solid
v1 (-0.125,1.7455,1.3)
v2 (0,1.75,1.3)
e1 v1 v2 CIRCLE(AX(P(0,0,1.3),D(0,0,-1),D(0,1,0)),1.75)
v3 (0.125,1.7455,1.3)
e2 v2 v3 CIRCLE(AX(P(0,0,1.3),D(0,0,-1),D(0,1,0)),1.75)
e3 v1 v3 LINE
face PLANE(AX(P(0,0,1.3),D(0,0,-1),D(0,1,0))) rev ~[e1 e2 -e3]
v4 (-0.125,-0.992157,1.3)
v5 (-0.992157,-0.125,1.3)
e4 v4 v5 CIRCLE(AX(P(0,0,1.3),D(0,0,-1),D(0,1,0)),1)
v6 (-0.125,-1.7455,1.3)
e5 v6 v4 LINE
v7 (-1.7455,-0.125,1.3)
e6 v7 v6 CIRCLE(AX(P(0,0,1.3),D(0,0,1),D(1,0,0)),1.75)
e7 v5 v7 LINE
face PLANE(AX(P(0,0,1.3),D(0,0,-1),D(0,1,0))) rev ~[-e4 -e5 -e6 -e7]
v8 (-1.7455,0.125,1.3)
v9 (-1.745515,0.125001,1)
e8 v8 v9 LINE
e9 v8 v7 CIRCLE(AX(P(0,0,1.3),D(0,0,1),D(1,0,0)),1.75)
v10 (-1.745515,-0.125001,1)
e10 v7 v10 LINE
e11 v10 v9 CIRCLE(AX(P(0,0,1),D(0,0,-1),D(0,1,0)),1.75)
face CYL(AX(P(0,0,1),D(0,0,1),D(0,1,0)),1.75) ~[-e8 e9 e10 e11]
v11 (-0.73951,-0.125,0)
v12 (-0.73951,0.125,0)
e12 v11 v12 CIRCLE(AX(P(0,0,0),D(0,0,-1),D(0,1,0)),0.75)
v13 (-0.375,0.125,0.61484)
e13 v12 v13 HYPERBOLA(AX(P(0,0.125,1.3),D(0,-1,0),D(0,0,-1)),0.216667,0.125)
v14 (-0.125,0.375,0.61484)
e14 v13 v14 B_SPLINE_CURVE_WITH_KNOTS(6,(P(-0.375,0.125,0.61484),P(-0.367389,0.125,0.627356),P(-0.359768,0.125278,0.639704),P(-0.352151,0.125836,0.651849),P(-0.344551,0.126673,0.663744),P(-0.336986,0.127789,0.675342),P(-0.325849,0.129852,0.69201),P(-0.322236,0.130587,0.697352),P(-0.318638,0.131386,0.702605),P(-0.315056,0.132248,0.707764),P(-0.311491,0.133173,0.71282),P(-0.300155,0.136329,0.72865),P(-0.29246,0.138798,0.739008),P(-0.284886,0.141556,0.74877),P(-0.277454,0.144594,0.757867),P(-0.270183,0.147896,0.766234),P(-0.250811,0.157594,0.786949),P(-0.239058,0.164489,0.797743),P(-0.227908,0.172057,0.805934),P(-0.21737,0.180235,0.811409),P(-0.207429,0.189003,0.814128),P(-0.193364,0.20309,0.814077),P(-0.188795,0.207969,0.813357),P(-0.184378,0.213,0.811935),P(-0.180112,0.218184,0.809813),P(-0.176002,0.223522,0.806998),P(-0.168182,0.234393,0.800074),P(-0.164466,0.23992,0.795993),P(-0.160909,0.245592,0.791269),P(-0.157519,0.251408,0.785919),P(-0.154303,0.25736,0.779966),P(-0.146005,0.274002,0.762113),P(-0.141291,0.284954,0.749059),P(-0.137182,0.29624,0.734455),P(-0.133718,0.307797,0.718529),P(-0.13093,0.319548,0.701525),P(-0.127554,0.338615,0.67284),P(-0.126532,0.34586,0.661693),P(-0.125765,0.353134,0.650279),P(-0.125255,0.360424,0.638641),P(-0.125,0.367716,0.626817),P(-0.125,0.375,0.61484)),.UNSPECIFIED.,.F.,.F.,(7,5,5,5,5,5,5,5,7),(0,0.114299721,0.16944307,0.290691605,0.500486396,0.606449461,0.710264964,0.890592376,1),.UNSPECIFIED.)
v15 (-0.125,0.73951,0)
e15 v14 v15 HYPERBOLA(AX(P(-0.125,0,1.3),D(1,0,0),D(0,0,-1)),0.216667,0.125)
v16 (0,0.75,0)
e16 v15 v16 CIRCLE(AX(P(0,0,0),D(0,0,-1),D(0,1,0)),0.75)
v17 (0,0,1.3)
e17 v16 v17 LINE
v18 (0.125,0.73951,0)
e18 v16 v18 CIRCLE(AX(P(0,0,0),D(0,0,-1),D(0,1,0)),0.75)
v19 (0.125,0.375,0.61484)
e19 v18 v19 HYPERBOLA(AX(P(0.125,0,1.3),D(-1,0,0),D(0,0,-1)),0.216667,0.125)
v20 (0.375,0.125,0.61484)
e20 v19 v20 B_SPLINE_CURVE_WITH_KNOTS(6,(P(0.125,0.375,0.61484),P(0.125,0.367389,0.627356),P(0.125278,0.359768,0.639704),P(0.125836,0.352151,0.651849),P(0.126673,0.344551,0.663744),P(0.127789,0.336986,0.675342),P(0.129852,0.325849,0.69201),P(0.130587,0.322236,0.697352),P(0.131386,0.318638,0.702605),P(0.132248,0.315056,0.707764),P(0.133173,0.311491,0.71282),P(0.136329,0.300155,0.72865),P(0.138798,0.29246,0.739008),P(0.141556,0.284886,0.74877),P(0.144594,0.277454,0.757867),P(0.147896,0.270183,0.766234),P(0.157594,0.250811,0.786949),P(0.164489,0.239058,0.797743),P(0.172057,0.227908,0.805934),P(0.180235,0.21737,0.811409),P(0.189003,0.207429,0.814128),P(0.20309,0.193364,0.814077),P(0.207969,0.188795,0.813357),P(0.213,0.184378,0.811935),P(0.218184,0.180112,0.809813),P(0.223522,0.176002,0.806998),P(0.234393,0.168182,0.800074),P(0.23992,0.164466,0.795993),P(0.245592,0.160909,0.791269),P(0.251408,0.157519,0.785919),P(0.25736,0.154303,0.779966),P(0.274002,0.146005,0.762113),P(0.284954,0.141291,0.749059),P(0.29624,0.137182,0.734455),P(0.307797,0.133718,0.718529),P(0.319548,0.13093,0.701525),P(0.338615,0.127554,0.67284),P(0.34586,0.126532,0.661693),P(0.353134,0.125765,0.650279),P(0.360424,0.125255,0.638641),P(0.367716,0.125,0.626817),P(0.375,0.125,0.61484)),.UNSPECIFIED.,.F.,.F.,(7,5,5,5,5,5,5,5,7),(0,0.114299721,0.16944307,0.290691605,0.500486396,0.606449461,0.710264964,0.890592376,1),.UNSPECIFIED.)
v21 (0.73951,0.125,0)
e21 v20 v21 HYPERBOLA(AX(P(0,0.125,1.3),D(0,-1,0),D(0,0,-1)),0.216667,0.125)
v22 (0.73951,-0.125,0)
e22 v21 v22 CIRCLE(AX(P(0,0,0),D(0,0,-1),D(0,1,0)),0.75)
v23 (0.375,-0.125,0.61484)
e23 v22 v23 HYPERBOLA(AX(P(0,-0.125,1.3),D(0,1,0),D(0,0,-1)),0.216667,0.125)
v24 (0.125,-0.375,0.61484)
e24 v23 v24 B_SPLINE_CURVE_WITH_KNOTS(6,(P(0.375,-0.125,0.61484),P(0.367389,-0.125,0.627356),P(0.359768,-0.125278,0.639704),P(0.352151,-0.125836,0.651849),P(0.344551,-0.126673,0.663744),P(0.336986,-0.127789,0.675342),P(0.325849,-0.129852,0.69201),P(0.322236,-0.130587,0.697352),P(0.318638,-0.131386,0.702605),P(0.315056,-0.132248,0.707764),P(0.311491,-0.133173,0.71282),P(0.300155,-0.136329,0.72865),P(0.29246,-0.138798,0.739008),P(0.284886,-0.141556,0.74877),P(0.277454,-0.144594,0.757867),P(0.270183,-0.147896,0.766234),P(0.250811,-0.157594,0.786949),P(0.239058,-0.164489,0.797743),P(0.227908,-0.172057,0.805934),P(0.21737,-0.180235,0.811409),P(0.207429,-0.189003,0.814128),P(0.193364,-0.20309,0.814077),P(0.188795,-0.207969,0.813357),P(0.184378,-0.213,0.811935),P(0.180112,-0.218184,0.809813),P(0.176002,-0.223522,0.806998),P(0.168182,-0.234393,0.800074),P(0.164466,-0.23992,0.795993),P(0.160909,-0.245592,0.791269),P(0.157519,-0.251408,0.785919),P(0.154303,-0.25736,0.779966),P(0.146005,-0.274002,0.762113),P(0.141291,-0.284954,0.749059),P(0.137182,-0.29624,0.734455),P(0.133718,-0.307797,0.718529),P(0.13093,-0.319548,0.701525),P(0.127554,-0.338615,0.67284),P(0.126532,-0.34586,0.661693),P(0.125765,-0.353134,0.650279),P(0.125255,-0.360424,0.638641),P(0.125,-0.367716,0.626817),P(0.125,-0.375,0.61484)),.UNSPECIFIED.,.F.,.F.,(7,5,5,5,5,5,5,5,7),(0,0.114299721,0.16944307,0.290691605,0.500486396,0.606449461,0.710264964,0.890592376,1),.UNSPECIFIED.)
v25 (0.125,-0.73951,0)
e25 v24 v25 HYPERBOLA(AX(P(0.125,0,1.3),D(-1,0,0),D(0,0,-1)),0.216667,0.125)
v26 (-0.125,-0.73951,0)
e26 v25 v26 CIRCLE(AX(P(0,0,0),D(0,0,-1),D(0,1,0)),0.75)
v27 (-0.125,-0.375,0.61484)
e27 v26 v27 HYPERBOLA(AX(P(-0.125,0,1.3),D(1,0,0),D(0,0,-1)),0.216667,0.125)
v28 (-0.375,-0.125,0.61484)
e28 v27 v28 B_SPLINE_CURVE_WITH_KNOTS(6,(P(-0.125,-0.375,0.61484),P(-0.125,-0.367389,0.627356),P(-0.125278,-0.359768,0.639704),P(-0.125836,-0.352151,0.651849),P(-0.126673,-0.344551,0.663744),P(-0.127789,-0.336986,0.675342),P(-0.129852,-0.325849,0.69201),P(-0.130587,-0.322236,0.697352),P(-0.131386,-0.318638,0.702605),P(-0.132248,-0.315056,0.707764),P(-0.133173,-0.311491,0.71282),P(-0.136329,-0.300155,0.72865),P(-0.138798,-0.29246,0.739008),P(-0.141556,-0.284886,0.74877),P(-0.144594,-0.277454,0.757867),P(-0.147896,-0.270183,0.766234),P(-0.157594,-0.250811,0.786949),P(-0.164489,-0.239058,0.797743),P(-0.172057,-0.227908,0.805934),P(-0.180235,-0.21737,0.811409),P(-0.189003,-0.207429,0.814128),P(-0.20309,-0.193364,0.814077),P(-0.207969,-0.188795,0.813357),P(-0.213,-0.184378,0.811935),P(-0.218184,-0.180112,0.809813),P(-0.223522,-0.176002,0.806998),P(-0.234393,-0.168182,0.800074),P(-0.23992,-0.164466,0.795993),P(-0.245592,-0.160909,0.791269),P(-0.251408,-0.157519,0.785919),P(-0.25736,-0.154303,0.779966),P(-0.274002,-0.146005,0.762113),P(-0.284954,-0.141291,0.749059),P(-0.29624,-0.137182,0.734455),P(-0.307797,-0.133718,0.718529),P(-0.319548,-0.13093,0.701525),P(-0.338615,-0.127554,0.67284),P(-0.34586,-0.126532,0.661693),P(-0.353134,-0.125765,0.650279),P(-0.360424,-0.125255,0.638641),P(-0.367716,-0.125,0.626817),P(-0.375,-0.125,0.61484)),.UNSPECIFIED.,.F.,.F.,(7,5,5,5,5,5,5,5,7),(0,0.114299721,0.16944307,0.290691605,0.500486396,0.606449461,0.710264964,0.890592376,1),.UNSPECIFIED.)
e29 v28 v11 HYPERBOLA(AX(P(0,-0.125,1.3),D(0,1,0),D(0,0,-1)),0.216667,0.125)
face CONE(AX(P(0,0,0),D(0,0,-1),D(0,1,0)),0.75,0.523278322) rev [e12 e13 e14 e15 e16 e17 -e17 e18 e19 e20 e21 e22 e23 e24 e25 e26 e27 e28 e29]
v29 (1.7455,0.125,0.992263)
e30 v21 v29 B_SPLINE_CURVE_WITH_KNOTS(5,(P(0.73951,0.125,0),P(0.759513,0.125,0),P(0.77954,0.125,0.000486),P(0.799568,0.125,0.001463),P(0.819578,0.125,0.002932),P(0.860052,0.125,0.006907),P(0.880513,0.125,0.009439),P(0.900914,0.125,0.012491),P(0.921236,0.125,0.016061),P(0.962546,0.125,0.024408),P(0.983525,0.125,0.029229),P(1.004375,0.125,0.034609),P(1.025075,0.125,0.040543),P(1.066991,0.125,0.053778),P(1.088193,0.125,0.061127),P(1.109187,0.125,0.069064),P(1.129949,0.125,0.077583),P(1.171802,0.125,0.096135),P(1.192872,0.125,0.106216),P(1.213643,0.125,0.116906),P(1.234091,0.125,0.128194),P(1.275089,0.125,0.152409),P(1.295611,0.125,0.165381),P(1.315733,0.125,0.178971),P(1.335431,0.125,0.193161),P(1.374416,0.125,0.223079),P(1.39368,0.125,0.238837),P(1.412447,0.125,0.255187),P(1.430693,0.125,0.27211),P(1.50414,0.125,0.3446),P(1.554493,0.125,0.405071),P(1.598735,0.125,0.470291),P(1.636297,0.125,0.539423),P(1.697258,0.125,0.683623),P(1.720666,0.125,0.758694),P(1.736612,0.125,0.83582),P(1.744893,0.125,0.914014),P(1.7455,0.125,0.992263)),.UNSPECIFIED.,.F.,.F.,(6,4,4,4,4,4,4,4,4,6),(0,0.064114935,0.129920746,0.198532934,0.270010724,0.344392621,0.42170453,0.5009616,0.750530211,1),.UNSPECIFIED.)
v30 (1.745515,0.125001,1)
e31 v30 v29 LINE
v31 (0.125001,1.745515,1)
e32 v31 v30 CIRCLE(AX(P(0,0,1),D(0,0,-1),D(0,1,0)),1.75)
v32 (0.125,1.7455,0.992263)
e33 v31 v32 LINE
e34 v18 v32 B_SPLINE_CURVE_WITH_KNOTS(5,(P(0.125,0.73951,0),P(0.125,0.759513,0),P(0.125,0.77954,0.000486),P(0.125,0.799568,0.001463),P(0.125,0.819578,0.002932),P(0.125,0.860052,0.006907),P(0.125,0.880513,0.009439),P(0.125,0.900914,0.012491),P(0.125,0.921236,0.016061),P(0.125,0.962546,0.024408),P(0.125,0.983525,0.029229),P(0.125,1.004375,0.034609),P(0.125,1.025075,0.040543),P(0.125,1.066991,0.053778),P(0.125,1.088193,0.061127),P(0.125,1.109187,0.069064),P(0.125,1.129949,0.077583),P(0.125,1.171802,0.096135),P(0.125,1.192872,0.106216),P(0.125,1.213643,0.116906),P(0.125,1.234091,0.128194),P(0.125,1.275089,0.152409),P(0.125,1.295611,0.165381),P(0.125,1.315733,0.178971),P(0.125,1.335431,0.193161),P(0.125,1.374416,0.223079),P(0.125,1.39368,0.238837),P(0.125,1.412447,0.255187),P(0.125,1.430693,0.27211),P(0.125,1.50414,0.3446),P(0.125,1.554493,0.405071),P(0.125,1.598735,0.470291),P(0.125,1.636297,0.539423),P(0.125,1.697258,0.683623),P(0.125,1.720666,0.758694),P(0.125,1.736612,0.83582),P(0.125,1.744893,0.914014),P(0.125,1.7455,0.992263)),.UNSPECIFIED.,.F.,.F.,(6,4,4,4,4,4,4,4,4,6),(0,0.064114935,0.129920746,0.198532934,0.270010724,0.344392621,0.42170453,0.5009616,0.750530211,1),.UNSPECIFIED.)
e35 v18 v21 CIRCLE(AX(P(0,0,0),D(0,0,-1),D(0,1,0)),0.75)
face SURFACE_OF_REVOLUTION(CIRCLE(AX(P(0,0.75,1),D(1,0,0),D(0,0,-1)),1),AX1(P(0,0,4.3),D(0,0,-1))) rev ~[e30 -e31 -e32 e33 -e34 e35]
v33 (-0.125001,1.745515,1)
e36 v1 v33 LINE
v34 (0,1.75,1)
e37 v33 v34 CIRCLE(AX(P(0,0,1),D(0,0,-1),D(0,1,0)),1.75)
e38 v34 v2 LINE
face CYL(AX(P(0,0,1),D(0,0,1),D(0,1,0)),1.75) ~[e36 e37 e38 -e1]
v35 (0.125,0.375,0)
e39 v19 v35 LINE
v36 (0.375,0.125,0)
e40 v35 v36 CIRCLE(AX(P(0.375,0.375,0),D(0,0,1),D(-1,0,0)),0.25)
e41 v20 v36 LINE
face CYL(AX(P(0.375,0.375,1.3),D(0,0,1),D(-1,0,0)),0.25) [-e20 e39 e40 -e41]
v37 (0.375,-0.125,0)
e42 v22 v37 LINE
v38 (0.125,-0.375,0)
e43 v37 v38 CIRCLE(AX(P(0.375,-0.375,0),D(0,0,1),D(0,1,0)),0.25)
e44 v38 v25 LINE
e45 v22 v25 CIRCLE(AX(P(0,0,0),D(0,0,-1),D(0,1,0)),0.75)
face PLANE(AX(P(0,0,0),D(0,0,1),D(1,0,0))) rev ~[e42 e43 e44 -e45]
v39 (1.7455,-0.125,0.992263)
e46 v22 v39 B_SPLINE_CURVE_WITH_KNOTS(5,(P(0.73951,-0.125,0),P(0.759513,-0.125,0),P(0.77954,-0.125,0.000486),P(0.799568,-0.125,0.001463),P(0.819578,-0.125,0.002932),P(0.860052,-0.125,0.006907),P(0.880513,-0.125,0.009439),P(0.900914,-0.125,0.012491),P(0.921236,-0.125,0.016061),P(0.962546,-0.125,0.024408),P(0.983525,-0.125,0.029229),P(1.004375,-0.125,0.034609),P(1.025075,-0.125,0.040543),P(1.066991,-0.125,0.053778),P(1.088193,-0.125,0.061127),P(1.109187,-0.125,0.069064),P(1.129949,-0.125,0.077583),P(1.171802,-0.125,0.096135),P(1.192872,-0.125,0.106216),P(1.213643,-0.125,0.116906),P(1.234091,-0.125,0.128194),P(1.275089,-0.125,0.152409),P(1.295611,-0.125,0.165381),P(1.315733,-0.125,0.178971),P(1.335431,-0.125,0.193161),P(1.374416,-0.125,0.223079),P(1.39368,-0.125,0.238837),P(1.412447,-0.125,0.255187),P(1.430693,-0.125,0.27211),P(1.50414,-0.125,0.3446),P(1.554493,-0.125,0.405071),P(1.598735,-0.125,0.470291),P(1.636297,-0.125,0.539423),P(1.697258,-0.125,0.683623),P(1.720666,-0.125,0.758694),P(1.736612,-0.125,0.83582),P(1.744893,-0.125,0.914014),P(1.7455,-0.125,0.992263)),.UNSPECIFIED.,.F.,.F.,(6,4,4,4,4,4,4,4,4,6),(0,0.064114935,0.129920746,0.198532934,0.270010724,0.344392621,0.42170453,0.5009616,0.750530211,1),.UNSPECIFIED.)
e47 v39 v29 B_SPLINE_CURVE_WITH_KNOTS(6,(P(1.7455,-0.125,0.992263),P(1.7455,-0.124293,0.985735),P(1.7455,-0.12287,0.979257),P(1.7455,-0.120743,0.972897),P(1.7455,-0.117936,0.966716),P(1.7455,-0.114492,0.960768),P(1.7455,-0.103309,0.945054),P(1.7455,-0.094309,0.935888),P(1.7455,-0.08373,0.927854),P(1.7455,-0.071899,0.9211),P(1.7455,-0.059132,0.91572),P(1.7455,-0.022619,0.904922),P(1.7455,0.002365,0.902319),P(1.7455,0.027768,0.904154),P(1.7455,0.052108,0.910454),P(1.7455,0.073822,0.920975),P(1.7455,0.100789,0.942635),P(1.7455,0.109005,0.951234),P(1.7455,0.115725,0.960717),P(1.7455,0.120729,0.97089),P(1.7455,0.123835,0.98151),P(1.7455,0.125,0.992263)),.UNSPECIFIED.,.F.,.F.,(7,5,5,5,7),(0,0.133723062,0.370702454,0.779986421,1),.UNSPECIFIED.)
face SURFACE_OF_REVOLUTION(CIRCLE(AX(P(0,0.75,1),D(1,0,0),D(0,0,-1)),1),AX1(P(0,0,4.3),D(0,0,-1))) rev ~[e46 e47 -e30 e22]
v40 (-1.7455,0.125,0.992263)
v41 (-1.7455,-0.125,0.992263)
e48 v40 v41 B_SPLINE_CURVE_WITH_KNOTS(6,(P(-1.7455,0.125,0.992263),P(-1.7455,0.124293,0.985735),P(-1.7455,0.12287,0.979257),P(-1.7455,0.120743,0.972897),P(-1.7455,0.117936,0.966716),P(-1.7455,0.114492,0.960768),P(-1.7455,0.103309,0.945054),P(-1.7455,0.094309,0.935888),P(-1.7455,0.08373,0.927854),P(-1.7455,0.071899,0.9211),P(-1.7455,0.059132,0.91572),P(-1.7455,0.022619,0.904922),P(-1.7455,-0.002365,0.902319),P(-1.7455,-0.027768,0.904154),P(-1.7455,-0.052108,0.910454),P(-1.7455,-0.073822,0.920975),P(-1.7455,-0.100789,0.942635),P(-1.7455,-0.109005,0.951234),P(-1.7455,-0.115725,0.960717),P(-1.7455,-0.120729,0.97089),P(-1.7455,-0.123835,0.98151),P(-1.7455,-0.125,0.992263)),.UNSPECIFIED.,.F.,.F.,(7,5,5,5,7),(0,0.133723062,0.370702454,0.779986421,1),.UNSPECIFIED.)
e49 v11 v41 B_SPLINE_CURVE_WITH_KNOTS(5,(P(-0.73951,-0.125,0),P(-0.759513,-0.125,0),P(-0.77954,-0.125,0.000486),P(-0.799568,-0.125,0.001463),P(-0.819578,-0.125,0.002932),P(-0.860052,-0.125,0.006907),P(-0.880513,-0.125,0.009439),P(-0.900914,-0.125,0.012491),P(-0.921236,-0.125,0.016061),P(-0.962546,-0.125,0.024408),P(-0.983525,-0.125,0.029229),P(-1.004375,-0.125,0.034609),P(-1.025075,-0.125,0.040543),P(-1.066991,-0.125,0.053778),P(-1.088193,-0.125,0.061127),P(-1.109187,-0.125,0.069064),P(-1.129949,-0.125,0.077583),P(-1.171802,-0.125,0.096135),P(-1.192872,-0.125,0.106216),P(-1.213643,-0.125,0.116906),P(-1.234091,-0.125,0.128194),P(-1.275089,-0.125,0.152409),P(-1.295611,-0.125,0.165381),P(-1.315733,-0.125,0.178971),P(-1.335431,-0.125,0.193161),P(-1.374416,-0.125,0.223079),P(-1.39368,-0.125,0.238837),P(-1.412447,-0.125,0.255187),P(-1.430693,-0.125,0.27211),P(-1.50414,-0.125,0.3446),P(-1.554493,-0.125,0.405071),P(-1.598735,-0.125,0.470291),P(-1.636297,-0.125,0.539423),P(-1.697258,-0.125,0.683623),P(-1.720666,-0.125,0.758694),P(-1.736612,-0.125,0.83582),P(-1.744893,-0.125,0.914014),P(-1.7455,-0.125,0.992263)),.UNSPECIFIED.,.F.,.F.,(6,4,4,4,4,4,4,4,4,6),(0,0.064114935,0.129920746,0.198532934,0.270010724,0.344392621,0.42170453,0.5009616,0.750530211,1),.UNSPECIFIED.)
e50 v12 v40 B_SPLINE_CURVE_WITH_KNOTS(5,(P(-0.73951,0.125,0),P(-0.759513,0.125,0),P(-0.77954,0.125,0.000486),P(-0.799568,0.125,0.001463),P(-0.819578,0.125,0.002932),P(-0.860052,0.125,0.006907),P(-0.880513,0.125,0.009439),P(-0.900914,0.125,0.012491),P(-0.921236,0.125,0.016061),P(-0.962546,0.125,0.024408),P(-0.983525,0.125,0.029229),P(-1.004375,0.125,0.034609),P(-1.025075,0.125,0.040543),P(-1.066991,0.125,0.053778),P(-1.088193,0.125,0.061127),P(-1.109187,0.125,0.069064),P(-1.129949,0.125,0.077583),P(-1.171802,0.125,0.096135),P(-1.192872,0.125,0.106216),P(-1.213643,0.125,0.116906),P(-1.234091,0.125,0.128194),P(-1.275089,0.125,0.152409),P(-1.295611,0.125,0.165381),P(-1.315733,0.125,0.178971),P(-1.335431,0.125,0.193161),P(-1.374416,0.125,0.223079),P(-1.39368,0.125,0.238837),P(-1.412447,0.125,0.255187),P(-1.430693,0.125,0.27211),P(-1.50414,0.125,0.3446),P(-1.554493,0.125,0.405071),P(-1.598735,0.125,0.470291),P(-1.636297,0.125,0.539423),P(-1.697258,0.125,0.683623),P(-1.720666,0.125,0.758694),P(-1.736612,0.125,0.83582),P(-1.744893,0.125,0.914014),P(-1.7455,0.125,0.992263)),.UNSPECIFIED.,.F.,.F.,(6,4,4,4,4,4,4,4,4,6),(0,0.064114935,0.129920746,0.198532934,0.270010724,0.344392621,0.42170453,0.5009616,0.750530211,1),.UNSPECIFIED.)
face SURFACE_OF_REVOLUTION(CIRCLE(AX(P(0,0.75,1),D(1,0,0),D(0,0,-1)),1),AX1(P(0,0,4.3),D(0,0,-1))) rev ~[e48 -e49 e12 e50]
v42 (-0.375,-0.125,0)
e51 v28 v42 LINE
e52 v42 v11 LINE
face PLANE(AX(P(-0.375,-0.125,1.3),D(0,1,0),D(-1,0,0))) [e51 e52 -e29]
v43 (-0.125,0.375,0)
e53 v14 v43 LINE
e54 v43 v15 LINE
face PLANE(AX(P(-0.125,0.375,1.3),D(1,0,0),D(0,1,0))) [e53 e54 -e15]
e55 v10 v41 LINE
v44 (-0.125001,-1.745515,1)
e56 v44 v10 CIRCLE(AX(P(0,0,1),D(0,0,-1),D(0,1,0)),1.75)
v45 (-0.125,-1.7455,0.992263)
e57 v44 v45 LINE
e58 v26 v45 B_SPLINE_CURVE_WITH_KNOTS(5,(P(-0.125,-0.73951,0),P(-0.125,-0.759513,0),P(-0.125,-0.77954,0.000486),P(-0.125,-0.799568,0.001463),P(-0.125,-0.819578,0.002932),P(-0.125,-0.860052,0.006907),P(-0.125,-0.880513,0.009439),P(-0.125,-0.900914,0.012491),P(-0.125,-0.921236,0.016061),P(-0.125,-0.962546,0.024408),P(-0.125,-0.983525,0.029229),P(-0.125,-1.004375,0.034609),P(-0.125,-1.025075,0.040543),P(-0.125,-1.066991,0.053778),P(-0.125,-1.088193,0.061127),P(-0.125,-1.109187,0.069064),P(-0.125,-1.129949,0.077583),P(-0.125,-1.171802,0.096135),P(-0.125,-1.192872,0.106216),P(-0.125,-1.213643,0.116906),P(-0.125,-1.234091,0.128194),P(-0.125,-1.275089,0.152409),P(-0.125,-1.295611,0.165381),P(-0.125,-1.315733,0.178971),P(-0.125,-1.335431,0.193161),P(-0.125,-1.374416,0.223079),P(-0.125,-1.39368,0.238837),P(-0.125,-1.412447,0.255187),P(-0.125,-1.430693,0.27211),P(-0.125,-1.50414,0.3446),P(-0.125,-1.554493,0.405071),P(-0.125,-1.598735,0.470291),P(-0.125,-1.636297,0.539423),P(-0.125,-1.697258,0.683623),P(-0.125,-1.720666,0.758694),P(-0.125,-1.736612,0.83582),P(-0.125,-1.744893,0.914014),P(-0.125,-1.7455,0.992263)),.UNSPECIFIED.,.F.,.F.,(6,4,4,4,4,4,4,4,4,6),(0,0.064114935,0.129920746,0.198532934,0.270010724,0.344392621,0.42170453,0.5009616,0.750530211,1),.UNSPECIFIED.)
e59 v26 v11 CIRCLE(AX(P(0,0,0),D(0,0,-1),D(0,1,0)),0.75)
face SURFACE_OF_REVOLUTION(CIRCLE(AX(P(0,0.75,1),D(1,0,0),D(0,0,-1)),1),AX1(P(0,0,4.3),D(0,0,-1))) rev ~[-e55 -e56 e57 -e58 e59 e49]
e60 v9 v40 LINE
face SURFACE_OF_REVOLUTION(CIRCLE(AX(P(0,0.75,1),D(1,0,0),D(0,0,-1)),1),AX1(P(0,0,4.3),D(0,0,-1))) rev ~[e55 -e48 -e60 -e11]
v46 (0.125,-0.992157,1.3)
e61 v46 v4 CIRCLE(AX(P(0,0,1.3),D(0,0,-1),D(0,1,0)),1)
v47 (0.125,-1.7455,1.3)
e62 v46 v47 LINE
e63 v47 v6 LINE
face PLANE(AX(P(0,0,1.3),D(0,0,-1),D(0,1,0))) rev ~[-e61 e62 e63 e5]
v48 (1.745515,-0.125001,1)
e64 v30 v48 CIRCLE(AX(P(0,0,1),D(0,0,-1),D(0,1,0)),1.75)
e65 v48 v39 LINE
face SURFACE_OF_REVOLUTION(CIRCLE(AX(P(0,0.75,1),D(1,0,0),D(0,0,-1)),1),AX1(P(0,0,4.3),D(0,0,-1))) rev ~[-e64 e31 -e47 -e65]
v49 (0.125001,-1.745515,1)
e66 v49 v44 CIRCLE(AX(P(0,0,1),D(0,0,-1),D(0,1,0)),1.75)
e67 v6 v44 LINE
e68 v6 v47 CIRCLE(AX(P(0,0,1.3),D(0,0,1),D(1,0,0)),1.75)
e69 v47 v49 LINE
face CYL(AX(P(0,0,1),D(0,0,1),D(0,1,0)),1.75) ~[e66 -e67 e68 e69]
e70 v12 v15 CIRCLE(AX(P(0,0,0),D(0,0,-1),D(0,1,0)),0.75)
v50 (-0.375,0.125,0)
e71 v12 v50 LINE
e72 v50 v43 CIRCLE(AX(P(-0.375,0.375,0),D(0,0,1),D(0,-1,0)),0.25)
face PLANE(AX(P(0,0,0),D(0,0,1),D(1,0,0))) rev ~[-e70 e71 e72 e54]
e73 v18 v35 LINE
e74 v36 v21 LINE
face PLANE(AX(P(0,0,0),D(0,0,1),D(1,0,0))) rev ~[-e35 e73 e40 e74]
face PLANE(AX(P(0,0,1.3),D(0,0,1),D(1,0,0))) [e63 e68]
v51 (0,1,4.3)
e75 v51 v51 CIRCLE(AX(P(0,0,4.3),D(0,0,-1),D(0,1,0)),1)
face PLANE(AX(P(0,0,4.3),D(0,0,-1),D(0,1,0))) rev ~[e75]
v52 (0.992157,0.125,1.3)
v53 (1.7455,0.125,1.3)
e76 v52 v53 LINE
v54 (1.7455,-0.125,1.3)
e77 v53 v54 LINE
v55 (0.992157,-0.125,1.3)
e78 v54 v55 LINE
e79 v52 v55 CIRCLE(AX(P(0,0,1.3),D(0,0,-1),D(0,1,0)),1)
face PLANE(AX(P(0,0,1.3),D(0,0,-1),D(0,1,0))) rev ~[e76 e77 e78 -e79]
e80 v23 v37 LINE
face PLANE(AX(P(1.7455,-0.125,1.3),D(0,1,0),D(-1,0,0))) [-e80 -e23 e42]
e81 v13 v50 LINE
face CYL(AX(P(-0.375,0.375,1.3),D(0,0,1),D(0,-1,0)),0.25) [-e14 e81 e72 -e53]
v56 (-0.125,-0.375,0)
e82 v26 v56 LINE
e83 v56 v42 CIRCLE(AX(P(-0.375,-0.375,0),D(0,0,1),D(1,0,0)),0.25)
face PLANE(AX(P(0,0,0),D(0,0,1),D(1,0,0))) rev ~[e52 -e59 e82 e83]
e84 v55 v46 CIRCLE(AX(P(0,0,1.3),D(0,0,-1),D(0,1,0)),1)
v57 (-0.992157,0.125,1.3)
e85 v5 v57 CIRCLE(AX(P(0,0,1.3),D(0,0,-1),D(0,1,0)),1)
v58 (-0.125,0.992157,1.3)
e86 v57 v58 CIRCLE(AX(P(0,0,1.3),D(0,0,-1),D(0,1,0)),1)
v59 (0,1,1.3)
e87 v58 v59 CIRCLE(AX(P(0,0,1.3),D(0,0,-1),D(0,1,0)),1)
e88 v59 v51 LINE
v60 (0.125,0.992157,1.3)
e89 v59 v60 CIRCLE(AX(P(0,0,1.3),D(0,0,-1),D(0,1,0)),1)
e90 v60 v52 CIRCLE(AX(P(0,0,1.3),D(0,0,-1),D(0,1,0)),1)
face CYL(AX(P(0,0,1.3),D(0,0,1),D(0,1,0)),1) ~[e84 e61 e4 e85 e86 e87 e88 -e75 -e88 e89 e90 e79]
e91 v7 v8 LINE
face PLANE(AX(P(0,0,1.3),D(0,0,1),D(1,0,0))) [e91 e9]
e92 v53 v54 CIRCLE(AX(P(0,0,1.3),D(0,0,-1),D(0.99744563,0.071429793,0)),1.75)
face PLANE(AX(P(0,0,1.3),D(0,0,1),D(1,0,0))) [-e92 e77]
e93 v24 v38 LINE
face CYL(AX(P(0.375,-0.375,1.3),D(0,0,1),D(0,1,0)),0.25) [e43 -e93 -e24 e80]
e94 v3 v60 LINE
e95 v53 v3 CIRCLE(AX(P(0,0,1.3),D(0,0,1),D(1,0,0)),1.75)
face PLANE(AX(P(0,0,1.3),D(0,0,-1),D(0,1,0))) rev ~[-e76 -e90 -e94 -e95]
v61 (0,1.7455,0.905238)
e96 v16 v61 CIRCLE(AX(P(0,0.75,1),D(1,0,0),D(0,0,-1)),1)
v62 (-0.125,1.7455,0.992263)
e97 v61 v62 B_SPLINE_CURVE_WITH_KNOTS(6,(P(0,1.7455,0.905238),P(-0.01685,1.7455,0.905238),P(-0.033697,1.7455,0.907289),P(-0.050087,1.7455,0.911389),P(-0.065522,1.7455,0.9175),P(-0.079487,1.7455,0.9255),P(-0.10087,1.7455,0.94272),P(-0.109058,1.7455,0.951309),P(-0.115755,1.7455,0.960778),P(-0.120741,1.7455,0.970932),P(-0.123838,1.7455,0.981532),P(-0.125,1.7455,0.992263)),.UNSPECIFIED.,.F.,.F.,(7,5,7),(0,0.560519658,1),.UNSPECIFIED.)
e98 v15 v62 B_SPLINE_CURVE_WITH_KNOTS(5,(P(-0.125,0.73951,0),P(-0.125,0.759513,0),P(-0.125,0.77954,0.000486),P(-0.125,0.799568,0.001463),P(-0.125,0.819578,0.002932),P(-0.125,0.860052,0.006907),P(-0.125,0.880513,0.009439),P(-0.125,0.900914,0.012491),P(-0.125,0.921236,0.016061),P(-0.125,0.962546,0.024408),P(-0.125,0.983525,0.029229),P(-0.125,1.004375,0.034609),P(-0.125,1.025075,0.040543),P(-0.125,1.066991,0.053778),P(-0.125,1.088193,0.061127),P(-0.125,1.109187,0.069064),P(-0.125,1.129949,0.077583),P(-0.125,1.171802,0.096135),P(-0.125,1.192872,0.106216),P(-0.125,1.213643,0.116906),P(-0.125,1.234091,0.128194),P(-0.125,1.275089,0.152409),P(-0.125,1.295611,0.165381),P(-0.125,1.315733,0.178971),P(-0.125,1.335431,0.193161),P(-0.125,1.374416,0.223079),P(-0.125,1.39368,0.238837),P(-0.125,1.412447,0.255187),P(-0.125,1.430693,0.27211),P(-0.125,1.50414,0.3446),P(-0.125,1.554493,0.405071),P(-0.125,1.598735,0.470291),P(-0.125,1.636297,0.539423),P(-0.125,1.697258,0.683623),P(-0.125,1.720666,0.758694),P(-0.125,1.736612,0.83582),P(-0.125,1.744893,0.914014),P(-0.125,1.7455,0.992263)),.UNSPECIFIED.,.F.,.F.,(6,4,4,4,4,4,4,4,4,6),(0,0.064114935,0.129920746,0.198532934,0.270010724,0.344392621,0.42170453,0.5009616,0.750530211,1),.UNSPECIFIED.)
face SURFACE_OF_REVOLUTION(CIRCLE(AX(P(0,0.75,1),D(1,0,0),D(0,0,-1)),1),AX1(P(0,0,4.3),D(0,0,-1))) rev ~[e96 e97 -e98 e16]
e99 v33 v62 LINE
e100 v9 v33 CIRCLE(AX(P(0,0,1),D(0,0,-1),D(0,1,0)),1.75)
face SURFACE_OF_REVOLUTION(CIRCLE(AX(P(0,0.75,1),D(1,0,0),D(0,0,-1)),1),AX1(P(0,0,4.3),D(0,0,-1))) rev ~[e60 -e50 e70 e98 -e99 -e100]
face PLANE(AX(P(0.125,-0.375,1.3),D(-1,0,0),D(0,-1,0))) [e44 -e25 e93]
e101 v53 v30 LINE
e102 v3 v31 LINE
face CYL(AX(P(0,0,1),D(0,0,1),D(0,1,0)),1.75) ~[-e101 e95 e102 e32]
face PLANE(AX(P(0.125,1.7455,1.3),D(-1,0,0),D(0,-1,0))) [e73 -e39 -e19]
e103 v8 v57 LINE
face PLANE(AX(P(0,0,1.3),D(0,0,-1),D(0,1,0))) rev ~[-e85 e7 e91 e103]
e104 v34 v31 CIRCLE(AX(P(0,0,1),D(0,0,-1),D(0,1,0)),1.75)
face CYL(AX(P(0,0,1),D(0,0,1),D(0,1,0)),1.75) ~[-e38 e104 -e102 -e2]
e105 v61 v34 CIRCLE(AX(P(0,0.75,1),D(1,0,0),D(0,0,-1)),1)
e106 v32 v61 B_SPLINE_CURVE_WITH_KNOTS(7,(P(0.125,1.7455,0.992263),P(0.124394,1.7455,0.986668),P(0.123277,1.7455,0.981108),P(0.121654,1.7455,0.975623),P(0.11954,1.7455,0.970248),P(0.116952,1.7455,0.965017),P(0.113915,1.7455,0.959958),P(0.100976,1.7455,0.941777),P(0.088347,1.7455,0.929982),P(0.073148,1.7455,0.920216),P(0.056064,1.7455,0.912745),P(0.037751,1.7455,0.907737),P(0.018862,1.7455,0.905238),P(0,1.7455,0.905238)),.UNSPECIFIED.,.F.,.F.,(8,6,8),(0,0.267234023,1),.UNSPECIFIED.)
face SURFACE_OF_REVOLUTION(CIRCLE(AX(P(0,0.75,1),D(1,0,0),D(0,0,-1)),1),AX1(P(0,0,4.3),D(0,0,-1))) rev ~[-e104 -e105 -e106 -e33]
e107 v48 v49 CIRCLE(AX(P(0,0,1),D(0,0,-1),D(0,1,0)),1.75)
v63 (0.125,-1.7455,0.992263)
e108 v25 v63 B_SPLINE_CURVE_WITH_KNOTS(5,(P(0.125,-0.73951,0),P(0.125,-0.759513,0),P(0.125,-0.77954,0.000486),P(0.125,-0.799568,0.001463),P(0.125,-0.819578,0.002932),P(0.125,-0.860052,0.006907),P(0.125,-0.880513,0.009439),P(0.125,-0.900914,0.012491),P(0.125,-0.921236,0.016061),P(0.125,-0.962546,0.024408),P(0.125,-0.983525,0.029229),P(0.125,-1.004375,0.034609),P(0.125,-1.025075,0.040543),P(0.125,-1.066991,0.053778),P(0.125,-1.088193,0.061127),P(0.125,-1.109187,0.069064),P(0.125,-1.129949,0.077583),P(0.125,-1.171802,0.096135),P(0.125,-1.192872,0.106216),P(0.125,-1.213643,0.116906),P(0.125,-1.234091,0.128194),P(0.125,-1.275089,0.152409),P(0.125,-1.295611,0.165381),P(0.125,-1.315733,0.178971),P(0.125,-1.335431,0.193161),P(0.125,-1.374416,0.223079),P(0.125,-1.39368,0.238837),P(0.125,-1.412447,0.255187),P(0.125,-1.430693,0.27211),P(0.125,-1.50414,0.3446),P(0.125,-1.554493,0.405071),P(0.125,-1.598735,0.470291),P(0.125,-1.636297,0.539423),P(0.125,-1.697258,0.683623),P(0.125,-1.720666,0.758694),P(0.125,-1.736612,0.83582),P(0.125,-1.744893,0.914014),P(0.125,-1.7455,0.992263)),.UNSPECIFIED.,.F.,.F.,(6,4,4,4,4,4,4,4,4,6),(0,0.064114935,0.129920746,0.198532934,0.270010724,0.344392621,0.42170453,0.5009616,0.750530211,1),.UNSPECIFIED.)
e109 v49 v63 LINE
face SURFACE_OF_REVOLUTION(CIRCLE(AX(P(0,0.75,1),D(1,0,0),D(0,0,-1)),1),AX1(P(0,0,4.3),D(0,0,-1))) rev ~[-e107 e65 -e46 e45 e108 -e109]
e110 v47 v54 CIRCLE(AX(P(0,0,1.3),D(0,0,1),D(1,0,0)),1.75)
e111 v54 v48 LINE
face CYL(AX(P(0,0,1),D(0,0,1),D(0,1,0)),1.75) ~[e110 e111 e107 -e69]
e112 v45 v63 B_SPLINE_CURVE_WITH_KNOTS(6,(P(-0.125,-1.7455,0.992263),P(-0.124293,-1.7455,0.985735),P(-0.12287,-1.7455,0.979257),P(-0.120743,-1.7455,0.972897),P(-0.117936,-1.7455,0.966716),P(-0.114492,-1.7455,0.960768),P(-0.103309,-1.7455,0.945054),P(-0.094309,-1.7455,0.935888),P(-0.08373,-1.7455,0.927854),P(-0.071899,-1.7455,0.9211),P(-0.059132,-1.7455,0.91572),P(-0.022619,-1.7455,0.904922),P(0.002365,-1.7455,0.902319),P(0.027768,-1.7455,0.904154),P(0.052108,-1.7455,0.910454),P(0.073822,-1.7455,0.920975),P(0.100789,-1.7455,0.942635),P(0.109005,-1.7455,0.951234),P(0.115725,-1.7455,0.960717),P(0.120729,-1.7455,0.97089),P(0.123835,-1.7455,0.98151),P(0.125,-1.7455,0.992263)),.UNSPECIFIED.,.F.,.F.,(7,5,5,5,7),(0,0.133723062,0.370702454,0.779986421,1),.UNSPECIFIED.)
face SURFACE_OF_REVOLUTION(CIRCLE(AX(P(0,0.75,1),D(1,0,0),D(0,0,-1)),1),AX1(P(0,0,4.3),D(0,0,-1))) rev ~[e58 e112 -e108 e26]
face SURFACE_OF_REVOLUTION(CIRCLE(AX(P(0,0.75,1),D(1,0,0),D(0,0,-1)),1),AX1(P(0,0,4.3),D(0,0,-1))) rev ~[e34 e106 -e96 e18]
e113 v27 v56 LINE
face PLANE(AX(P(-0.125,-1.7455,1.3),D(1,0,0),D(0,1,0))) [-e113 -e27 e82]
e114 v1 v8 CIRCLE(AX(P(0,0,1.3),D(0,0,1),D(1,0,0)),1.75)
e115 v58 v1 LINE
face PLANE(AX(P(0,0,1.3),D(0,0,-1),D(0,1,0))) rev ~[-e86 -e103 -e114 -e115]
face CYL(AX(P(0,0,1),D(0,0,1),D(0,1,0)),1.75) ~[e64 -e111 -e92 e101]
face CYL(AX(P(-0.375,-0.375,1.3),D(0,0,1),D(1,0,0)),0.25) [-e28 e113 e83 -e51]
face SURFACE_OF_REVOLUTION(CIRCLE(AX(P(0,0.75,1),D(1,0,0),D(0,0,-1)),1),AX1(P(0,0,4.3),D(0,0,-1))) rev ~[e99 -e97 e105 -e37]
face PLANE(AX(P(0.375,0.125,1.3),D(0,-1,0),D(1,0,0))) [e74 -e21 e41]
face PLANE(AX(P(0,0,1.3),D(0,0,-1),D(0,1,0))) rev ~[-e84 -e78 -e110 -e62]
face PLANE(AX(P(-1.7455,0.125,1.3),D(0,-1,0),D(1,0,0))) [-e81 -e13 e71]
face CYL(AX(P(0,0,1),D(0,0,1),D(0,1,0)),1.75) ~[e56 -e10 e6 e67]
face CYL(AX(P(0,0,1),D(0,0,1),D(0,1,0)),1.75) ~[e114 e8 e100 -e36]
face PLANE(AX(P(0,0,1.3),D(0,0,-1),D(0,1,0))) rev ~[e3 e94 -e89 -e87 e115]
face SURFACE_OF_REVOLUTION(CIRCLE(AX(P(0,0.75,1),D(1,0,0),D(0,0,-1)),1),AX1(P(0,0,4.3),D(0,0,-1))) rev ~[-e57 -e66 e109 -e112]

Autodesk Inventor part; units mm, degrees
ref_plane "YZ Plane" through (0, 0, 0) normal (1, 0, 0) x (0, 1, 0)
ref_plane "XZ Plane" through (0, 0, 0) normal (0, 1, 0) x (-1, 0, 0)
ref_plane "XY Plane" through (0, 0, 0) normal (0, 0, 1) x (1, 0, 0)
sketch "スケッチ1" plane through (0, 0, 0) normal (1, 0, 0) x (0, 1, 0)
  line L0 (0, 4.3) -> (0, 0)
  line L1 (0, 0) -> (0.75, 0)
  line L2 (1.75, 1) -> (1.75, 1.3)
  line L3 (1.75, 1.3) -> (1, 1.3)
  line L4 (1, 1.3) -> (1, 4.3)
  line L5 (1, 4.3) -> (0, 4.3)
  line L6 (0.75, 0) -> (0, 1.3)
  arc A0 (0.75, 0) -> (1.75, 1) centre (0.75, 1) ccw
  line L7 (0.75, 0) -> (1.75, 0)
  line L8 (1.75, 0) -> (1.75, 1)
  dimension "d2" = 1.3
  dimension "d10" = 3
  dimension "d11" = 2
  dimension "d12" = 3.5
  dimension "d14" = 1
revolve "回転1" add sketch "スケッチ1" angle 360 about axis through (0, 0, 4.3) along (0, 0, -1) contours L5 L4 L3 L2 A0 L6 L0
thread "ねじ1" size "M2x0.4" class "6g" standard "ANSI Metric M Profile" full length
sketch "スケッチ2" plane through (0, 0, 1.3) normal (0, 0, 1) x (1, 0, 0)
  line L0 (0.125, -1.7455) -> (-0.125, -1.7455)
  line L1 (-0.125, -1.7455) -> (-0.125, -0.375)
  line L2 (-0.125, 1.7455) -> (0.125, 1.7455)
  line L3 (0.125, 1.7455) -> (0.125, 0.375)
  line L4 (0.125, -1.7455) -> (-0.125, 1.7455) construction
  line L5 (-0.125, -1.7455) -> (0.125, 1.7455) construction
  line L6 (-1.7455, 0.125) -> (-0.375, 0.125)
  line L7 (1.7455, 0.125) -> (1.7455, -0.125)
  line L8 (1.7455, -0.125) -> (0.375, -0.125)
  line L9 (-1.7455, -0.125) -> (-1.7455, 0.125)
  line L10 (-1.7455, 0.125) -> (1.7455, -0.125) construction
  line L11 (1.7455, 0.125) -> (-1.7455, -0.125) construction
  line L12 (0.125, -0.375) -> (0.125, -1.7455)
  line L13 (0.375, 0.125) -> (1.7455, 0.125)
  line L14 (-0.375, -0.125) -> (-1.7455, -0.125)
  line L15 (-0.125, 0.375) -> (-0.125, 1.7455)
  arc A0 (0.375, -0.125) -> (0.125, -0.375) centre (0.375, -0.375) ccw
  arc A1 (0.125, 0.375) -> (0.375, 0.125) centre (0.375, 0.375) ccw
  arc A2 (-0.375, 0.125) -> (-0.125, 0.375) centre (-0.375, 0.375) ccw
  arc A3 (-0.125, -0.375) -> (-0.375, -0.125) centre (-0.375, -0.375) ccw
  circle A4 centre (0, 0) radius 1.75 projected
  line L16 (0, 1.75) -> (0, -1.75) construction
  line L17 (1.7455, 0) -> (-1.7455, 0) construction
  point P0 (0, 0)
  point P1 (-0.3339, -0.2226)
  point P2 (-0.3339, 0.2226)
  point P3 (0.3339, 0.2226)
  point P4 (0.3339, -0.2226)
  point P5 (0, 0)
  dimension "d18" = 0.25
  dimension "d19" = 0.25
  dimension "d20" = 0.25
extrude "押し出し2" add sketch "スケッチ2" against normal blind 1.3 contours A4 L0 | L12 A0 L8 A4 | A4 L14 A3 L1 | L7 A4 | A4 L9 | L13 A1 L3 A4 | A4 L15 A2 L6 | L2 A4
revolve "回転2" cut sketch "スケッチ1" angle 360 about axis through (0, 0, 4.3) along (0, 0, -1) contours A0 L8 L7
equation "\"d19\" = d20"
equation "\"d20\" = d18"
properties part number "U-0203" material "Stainless Steel"
